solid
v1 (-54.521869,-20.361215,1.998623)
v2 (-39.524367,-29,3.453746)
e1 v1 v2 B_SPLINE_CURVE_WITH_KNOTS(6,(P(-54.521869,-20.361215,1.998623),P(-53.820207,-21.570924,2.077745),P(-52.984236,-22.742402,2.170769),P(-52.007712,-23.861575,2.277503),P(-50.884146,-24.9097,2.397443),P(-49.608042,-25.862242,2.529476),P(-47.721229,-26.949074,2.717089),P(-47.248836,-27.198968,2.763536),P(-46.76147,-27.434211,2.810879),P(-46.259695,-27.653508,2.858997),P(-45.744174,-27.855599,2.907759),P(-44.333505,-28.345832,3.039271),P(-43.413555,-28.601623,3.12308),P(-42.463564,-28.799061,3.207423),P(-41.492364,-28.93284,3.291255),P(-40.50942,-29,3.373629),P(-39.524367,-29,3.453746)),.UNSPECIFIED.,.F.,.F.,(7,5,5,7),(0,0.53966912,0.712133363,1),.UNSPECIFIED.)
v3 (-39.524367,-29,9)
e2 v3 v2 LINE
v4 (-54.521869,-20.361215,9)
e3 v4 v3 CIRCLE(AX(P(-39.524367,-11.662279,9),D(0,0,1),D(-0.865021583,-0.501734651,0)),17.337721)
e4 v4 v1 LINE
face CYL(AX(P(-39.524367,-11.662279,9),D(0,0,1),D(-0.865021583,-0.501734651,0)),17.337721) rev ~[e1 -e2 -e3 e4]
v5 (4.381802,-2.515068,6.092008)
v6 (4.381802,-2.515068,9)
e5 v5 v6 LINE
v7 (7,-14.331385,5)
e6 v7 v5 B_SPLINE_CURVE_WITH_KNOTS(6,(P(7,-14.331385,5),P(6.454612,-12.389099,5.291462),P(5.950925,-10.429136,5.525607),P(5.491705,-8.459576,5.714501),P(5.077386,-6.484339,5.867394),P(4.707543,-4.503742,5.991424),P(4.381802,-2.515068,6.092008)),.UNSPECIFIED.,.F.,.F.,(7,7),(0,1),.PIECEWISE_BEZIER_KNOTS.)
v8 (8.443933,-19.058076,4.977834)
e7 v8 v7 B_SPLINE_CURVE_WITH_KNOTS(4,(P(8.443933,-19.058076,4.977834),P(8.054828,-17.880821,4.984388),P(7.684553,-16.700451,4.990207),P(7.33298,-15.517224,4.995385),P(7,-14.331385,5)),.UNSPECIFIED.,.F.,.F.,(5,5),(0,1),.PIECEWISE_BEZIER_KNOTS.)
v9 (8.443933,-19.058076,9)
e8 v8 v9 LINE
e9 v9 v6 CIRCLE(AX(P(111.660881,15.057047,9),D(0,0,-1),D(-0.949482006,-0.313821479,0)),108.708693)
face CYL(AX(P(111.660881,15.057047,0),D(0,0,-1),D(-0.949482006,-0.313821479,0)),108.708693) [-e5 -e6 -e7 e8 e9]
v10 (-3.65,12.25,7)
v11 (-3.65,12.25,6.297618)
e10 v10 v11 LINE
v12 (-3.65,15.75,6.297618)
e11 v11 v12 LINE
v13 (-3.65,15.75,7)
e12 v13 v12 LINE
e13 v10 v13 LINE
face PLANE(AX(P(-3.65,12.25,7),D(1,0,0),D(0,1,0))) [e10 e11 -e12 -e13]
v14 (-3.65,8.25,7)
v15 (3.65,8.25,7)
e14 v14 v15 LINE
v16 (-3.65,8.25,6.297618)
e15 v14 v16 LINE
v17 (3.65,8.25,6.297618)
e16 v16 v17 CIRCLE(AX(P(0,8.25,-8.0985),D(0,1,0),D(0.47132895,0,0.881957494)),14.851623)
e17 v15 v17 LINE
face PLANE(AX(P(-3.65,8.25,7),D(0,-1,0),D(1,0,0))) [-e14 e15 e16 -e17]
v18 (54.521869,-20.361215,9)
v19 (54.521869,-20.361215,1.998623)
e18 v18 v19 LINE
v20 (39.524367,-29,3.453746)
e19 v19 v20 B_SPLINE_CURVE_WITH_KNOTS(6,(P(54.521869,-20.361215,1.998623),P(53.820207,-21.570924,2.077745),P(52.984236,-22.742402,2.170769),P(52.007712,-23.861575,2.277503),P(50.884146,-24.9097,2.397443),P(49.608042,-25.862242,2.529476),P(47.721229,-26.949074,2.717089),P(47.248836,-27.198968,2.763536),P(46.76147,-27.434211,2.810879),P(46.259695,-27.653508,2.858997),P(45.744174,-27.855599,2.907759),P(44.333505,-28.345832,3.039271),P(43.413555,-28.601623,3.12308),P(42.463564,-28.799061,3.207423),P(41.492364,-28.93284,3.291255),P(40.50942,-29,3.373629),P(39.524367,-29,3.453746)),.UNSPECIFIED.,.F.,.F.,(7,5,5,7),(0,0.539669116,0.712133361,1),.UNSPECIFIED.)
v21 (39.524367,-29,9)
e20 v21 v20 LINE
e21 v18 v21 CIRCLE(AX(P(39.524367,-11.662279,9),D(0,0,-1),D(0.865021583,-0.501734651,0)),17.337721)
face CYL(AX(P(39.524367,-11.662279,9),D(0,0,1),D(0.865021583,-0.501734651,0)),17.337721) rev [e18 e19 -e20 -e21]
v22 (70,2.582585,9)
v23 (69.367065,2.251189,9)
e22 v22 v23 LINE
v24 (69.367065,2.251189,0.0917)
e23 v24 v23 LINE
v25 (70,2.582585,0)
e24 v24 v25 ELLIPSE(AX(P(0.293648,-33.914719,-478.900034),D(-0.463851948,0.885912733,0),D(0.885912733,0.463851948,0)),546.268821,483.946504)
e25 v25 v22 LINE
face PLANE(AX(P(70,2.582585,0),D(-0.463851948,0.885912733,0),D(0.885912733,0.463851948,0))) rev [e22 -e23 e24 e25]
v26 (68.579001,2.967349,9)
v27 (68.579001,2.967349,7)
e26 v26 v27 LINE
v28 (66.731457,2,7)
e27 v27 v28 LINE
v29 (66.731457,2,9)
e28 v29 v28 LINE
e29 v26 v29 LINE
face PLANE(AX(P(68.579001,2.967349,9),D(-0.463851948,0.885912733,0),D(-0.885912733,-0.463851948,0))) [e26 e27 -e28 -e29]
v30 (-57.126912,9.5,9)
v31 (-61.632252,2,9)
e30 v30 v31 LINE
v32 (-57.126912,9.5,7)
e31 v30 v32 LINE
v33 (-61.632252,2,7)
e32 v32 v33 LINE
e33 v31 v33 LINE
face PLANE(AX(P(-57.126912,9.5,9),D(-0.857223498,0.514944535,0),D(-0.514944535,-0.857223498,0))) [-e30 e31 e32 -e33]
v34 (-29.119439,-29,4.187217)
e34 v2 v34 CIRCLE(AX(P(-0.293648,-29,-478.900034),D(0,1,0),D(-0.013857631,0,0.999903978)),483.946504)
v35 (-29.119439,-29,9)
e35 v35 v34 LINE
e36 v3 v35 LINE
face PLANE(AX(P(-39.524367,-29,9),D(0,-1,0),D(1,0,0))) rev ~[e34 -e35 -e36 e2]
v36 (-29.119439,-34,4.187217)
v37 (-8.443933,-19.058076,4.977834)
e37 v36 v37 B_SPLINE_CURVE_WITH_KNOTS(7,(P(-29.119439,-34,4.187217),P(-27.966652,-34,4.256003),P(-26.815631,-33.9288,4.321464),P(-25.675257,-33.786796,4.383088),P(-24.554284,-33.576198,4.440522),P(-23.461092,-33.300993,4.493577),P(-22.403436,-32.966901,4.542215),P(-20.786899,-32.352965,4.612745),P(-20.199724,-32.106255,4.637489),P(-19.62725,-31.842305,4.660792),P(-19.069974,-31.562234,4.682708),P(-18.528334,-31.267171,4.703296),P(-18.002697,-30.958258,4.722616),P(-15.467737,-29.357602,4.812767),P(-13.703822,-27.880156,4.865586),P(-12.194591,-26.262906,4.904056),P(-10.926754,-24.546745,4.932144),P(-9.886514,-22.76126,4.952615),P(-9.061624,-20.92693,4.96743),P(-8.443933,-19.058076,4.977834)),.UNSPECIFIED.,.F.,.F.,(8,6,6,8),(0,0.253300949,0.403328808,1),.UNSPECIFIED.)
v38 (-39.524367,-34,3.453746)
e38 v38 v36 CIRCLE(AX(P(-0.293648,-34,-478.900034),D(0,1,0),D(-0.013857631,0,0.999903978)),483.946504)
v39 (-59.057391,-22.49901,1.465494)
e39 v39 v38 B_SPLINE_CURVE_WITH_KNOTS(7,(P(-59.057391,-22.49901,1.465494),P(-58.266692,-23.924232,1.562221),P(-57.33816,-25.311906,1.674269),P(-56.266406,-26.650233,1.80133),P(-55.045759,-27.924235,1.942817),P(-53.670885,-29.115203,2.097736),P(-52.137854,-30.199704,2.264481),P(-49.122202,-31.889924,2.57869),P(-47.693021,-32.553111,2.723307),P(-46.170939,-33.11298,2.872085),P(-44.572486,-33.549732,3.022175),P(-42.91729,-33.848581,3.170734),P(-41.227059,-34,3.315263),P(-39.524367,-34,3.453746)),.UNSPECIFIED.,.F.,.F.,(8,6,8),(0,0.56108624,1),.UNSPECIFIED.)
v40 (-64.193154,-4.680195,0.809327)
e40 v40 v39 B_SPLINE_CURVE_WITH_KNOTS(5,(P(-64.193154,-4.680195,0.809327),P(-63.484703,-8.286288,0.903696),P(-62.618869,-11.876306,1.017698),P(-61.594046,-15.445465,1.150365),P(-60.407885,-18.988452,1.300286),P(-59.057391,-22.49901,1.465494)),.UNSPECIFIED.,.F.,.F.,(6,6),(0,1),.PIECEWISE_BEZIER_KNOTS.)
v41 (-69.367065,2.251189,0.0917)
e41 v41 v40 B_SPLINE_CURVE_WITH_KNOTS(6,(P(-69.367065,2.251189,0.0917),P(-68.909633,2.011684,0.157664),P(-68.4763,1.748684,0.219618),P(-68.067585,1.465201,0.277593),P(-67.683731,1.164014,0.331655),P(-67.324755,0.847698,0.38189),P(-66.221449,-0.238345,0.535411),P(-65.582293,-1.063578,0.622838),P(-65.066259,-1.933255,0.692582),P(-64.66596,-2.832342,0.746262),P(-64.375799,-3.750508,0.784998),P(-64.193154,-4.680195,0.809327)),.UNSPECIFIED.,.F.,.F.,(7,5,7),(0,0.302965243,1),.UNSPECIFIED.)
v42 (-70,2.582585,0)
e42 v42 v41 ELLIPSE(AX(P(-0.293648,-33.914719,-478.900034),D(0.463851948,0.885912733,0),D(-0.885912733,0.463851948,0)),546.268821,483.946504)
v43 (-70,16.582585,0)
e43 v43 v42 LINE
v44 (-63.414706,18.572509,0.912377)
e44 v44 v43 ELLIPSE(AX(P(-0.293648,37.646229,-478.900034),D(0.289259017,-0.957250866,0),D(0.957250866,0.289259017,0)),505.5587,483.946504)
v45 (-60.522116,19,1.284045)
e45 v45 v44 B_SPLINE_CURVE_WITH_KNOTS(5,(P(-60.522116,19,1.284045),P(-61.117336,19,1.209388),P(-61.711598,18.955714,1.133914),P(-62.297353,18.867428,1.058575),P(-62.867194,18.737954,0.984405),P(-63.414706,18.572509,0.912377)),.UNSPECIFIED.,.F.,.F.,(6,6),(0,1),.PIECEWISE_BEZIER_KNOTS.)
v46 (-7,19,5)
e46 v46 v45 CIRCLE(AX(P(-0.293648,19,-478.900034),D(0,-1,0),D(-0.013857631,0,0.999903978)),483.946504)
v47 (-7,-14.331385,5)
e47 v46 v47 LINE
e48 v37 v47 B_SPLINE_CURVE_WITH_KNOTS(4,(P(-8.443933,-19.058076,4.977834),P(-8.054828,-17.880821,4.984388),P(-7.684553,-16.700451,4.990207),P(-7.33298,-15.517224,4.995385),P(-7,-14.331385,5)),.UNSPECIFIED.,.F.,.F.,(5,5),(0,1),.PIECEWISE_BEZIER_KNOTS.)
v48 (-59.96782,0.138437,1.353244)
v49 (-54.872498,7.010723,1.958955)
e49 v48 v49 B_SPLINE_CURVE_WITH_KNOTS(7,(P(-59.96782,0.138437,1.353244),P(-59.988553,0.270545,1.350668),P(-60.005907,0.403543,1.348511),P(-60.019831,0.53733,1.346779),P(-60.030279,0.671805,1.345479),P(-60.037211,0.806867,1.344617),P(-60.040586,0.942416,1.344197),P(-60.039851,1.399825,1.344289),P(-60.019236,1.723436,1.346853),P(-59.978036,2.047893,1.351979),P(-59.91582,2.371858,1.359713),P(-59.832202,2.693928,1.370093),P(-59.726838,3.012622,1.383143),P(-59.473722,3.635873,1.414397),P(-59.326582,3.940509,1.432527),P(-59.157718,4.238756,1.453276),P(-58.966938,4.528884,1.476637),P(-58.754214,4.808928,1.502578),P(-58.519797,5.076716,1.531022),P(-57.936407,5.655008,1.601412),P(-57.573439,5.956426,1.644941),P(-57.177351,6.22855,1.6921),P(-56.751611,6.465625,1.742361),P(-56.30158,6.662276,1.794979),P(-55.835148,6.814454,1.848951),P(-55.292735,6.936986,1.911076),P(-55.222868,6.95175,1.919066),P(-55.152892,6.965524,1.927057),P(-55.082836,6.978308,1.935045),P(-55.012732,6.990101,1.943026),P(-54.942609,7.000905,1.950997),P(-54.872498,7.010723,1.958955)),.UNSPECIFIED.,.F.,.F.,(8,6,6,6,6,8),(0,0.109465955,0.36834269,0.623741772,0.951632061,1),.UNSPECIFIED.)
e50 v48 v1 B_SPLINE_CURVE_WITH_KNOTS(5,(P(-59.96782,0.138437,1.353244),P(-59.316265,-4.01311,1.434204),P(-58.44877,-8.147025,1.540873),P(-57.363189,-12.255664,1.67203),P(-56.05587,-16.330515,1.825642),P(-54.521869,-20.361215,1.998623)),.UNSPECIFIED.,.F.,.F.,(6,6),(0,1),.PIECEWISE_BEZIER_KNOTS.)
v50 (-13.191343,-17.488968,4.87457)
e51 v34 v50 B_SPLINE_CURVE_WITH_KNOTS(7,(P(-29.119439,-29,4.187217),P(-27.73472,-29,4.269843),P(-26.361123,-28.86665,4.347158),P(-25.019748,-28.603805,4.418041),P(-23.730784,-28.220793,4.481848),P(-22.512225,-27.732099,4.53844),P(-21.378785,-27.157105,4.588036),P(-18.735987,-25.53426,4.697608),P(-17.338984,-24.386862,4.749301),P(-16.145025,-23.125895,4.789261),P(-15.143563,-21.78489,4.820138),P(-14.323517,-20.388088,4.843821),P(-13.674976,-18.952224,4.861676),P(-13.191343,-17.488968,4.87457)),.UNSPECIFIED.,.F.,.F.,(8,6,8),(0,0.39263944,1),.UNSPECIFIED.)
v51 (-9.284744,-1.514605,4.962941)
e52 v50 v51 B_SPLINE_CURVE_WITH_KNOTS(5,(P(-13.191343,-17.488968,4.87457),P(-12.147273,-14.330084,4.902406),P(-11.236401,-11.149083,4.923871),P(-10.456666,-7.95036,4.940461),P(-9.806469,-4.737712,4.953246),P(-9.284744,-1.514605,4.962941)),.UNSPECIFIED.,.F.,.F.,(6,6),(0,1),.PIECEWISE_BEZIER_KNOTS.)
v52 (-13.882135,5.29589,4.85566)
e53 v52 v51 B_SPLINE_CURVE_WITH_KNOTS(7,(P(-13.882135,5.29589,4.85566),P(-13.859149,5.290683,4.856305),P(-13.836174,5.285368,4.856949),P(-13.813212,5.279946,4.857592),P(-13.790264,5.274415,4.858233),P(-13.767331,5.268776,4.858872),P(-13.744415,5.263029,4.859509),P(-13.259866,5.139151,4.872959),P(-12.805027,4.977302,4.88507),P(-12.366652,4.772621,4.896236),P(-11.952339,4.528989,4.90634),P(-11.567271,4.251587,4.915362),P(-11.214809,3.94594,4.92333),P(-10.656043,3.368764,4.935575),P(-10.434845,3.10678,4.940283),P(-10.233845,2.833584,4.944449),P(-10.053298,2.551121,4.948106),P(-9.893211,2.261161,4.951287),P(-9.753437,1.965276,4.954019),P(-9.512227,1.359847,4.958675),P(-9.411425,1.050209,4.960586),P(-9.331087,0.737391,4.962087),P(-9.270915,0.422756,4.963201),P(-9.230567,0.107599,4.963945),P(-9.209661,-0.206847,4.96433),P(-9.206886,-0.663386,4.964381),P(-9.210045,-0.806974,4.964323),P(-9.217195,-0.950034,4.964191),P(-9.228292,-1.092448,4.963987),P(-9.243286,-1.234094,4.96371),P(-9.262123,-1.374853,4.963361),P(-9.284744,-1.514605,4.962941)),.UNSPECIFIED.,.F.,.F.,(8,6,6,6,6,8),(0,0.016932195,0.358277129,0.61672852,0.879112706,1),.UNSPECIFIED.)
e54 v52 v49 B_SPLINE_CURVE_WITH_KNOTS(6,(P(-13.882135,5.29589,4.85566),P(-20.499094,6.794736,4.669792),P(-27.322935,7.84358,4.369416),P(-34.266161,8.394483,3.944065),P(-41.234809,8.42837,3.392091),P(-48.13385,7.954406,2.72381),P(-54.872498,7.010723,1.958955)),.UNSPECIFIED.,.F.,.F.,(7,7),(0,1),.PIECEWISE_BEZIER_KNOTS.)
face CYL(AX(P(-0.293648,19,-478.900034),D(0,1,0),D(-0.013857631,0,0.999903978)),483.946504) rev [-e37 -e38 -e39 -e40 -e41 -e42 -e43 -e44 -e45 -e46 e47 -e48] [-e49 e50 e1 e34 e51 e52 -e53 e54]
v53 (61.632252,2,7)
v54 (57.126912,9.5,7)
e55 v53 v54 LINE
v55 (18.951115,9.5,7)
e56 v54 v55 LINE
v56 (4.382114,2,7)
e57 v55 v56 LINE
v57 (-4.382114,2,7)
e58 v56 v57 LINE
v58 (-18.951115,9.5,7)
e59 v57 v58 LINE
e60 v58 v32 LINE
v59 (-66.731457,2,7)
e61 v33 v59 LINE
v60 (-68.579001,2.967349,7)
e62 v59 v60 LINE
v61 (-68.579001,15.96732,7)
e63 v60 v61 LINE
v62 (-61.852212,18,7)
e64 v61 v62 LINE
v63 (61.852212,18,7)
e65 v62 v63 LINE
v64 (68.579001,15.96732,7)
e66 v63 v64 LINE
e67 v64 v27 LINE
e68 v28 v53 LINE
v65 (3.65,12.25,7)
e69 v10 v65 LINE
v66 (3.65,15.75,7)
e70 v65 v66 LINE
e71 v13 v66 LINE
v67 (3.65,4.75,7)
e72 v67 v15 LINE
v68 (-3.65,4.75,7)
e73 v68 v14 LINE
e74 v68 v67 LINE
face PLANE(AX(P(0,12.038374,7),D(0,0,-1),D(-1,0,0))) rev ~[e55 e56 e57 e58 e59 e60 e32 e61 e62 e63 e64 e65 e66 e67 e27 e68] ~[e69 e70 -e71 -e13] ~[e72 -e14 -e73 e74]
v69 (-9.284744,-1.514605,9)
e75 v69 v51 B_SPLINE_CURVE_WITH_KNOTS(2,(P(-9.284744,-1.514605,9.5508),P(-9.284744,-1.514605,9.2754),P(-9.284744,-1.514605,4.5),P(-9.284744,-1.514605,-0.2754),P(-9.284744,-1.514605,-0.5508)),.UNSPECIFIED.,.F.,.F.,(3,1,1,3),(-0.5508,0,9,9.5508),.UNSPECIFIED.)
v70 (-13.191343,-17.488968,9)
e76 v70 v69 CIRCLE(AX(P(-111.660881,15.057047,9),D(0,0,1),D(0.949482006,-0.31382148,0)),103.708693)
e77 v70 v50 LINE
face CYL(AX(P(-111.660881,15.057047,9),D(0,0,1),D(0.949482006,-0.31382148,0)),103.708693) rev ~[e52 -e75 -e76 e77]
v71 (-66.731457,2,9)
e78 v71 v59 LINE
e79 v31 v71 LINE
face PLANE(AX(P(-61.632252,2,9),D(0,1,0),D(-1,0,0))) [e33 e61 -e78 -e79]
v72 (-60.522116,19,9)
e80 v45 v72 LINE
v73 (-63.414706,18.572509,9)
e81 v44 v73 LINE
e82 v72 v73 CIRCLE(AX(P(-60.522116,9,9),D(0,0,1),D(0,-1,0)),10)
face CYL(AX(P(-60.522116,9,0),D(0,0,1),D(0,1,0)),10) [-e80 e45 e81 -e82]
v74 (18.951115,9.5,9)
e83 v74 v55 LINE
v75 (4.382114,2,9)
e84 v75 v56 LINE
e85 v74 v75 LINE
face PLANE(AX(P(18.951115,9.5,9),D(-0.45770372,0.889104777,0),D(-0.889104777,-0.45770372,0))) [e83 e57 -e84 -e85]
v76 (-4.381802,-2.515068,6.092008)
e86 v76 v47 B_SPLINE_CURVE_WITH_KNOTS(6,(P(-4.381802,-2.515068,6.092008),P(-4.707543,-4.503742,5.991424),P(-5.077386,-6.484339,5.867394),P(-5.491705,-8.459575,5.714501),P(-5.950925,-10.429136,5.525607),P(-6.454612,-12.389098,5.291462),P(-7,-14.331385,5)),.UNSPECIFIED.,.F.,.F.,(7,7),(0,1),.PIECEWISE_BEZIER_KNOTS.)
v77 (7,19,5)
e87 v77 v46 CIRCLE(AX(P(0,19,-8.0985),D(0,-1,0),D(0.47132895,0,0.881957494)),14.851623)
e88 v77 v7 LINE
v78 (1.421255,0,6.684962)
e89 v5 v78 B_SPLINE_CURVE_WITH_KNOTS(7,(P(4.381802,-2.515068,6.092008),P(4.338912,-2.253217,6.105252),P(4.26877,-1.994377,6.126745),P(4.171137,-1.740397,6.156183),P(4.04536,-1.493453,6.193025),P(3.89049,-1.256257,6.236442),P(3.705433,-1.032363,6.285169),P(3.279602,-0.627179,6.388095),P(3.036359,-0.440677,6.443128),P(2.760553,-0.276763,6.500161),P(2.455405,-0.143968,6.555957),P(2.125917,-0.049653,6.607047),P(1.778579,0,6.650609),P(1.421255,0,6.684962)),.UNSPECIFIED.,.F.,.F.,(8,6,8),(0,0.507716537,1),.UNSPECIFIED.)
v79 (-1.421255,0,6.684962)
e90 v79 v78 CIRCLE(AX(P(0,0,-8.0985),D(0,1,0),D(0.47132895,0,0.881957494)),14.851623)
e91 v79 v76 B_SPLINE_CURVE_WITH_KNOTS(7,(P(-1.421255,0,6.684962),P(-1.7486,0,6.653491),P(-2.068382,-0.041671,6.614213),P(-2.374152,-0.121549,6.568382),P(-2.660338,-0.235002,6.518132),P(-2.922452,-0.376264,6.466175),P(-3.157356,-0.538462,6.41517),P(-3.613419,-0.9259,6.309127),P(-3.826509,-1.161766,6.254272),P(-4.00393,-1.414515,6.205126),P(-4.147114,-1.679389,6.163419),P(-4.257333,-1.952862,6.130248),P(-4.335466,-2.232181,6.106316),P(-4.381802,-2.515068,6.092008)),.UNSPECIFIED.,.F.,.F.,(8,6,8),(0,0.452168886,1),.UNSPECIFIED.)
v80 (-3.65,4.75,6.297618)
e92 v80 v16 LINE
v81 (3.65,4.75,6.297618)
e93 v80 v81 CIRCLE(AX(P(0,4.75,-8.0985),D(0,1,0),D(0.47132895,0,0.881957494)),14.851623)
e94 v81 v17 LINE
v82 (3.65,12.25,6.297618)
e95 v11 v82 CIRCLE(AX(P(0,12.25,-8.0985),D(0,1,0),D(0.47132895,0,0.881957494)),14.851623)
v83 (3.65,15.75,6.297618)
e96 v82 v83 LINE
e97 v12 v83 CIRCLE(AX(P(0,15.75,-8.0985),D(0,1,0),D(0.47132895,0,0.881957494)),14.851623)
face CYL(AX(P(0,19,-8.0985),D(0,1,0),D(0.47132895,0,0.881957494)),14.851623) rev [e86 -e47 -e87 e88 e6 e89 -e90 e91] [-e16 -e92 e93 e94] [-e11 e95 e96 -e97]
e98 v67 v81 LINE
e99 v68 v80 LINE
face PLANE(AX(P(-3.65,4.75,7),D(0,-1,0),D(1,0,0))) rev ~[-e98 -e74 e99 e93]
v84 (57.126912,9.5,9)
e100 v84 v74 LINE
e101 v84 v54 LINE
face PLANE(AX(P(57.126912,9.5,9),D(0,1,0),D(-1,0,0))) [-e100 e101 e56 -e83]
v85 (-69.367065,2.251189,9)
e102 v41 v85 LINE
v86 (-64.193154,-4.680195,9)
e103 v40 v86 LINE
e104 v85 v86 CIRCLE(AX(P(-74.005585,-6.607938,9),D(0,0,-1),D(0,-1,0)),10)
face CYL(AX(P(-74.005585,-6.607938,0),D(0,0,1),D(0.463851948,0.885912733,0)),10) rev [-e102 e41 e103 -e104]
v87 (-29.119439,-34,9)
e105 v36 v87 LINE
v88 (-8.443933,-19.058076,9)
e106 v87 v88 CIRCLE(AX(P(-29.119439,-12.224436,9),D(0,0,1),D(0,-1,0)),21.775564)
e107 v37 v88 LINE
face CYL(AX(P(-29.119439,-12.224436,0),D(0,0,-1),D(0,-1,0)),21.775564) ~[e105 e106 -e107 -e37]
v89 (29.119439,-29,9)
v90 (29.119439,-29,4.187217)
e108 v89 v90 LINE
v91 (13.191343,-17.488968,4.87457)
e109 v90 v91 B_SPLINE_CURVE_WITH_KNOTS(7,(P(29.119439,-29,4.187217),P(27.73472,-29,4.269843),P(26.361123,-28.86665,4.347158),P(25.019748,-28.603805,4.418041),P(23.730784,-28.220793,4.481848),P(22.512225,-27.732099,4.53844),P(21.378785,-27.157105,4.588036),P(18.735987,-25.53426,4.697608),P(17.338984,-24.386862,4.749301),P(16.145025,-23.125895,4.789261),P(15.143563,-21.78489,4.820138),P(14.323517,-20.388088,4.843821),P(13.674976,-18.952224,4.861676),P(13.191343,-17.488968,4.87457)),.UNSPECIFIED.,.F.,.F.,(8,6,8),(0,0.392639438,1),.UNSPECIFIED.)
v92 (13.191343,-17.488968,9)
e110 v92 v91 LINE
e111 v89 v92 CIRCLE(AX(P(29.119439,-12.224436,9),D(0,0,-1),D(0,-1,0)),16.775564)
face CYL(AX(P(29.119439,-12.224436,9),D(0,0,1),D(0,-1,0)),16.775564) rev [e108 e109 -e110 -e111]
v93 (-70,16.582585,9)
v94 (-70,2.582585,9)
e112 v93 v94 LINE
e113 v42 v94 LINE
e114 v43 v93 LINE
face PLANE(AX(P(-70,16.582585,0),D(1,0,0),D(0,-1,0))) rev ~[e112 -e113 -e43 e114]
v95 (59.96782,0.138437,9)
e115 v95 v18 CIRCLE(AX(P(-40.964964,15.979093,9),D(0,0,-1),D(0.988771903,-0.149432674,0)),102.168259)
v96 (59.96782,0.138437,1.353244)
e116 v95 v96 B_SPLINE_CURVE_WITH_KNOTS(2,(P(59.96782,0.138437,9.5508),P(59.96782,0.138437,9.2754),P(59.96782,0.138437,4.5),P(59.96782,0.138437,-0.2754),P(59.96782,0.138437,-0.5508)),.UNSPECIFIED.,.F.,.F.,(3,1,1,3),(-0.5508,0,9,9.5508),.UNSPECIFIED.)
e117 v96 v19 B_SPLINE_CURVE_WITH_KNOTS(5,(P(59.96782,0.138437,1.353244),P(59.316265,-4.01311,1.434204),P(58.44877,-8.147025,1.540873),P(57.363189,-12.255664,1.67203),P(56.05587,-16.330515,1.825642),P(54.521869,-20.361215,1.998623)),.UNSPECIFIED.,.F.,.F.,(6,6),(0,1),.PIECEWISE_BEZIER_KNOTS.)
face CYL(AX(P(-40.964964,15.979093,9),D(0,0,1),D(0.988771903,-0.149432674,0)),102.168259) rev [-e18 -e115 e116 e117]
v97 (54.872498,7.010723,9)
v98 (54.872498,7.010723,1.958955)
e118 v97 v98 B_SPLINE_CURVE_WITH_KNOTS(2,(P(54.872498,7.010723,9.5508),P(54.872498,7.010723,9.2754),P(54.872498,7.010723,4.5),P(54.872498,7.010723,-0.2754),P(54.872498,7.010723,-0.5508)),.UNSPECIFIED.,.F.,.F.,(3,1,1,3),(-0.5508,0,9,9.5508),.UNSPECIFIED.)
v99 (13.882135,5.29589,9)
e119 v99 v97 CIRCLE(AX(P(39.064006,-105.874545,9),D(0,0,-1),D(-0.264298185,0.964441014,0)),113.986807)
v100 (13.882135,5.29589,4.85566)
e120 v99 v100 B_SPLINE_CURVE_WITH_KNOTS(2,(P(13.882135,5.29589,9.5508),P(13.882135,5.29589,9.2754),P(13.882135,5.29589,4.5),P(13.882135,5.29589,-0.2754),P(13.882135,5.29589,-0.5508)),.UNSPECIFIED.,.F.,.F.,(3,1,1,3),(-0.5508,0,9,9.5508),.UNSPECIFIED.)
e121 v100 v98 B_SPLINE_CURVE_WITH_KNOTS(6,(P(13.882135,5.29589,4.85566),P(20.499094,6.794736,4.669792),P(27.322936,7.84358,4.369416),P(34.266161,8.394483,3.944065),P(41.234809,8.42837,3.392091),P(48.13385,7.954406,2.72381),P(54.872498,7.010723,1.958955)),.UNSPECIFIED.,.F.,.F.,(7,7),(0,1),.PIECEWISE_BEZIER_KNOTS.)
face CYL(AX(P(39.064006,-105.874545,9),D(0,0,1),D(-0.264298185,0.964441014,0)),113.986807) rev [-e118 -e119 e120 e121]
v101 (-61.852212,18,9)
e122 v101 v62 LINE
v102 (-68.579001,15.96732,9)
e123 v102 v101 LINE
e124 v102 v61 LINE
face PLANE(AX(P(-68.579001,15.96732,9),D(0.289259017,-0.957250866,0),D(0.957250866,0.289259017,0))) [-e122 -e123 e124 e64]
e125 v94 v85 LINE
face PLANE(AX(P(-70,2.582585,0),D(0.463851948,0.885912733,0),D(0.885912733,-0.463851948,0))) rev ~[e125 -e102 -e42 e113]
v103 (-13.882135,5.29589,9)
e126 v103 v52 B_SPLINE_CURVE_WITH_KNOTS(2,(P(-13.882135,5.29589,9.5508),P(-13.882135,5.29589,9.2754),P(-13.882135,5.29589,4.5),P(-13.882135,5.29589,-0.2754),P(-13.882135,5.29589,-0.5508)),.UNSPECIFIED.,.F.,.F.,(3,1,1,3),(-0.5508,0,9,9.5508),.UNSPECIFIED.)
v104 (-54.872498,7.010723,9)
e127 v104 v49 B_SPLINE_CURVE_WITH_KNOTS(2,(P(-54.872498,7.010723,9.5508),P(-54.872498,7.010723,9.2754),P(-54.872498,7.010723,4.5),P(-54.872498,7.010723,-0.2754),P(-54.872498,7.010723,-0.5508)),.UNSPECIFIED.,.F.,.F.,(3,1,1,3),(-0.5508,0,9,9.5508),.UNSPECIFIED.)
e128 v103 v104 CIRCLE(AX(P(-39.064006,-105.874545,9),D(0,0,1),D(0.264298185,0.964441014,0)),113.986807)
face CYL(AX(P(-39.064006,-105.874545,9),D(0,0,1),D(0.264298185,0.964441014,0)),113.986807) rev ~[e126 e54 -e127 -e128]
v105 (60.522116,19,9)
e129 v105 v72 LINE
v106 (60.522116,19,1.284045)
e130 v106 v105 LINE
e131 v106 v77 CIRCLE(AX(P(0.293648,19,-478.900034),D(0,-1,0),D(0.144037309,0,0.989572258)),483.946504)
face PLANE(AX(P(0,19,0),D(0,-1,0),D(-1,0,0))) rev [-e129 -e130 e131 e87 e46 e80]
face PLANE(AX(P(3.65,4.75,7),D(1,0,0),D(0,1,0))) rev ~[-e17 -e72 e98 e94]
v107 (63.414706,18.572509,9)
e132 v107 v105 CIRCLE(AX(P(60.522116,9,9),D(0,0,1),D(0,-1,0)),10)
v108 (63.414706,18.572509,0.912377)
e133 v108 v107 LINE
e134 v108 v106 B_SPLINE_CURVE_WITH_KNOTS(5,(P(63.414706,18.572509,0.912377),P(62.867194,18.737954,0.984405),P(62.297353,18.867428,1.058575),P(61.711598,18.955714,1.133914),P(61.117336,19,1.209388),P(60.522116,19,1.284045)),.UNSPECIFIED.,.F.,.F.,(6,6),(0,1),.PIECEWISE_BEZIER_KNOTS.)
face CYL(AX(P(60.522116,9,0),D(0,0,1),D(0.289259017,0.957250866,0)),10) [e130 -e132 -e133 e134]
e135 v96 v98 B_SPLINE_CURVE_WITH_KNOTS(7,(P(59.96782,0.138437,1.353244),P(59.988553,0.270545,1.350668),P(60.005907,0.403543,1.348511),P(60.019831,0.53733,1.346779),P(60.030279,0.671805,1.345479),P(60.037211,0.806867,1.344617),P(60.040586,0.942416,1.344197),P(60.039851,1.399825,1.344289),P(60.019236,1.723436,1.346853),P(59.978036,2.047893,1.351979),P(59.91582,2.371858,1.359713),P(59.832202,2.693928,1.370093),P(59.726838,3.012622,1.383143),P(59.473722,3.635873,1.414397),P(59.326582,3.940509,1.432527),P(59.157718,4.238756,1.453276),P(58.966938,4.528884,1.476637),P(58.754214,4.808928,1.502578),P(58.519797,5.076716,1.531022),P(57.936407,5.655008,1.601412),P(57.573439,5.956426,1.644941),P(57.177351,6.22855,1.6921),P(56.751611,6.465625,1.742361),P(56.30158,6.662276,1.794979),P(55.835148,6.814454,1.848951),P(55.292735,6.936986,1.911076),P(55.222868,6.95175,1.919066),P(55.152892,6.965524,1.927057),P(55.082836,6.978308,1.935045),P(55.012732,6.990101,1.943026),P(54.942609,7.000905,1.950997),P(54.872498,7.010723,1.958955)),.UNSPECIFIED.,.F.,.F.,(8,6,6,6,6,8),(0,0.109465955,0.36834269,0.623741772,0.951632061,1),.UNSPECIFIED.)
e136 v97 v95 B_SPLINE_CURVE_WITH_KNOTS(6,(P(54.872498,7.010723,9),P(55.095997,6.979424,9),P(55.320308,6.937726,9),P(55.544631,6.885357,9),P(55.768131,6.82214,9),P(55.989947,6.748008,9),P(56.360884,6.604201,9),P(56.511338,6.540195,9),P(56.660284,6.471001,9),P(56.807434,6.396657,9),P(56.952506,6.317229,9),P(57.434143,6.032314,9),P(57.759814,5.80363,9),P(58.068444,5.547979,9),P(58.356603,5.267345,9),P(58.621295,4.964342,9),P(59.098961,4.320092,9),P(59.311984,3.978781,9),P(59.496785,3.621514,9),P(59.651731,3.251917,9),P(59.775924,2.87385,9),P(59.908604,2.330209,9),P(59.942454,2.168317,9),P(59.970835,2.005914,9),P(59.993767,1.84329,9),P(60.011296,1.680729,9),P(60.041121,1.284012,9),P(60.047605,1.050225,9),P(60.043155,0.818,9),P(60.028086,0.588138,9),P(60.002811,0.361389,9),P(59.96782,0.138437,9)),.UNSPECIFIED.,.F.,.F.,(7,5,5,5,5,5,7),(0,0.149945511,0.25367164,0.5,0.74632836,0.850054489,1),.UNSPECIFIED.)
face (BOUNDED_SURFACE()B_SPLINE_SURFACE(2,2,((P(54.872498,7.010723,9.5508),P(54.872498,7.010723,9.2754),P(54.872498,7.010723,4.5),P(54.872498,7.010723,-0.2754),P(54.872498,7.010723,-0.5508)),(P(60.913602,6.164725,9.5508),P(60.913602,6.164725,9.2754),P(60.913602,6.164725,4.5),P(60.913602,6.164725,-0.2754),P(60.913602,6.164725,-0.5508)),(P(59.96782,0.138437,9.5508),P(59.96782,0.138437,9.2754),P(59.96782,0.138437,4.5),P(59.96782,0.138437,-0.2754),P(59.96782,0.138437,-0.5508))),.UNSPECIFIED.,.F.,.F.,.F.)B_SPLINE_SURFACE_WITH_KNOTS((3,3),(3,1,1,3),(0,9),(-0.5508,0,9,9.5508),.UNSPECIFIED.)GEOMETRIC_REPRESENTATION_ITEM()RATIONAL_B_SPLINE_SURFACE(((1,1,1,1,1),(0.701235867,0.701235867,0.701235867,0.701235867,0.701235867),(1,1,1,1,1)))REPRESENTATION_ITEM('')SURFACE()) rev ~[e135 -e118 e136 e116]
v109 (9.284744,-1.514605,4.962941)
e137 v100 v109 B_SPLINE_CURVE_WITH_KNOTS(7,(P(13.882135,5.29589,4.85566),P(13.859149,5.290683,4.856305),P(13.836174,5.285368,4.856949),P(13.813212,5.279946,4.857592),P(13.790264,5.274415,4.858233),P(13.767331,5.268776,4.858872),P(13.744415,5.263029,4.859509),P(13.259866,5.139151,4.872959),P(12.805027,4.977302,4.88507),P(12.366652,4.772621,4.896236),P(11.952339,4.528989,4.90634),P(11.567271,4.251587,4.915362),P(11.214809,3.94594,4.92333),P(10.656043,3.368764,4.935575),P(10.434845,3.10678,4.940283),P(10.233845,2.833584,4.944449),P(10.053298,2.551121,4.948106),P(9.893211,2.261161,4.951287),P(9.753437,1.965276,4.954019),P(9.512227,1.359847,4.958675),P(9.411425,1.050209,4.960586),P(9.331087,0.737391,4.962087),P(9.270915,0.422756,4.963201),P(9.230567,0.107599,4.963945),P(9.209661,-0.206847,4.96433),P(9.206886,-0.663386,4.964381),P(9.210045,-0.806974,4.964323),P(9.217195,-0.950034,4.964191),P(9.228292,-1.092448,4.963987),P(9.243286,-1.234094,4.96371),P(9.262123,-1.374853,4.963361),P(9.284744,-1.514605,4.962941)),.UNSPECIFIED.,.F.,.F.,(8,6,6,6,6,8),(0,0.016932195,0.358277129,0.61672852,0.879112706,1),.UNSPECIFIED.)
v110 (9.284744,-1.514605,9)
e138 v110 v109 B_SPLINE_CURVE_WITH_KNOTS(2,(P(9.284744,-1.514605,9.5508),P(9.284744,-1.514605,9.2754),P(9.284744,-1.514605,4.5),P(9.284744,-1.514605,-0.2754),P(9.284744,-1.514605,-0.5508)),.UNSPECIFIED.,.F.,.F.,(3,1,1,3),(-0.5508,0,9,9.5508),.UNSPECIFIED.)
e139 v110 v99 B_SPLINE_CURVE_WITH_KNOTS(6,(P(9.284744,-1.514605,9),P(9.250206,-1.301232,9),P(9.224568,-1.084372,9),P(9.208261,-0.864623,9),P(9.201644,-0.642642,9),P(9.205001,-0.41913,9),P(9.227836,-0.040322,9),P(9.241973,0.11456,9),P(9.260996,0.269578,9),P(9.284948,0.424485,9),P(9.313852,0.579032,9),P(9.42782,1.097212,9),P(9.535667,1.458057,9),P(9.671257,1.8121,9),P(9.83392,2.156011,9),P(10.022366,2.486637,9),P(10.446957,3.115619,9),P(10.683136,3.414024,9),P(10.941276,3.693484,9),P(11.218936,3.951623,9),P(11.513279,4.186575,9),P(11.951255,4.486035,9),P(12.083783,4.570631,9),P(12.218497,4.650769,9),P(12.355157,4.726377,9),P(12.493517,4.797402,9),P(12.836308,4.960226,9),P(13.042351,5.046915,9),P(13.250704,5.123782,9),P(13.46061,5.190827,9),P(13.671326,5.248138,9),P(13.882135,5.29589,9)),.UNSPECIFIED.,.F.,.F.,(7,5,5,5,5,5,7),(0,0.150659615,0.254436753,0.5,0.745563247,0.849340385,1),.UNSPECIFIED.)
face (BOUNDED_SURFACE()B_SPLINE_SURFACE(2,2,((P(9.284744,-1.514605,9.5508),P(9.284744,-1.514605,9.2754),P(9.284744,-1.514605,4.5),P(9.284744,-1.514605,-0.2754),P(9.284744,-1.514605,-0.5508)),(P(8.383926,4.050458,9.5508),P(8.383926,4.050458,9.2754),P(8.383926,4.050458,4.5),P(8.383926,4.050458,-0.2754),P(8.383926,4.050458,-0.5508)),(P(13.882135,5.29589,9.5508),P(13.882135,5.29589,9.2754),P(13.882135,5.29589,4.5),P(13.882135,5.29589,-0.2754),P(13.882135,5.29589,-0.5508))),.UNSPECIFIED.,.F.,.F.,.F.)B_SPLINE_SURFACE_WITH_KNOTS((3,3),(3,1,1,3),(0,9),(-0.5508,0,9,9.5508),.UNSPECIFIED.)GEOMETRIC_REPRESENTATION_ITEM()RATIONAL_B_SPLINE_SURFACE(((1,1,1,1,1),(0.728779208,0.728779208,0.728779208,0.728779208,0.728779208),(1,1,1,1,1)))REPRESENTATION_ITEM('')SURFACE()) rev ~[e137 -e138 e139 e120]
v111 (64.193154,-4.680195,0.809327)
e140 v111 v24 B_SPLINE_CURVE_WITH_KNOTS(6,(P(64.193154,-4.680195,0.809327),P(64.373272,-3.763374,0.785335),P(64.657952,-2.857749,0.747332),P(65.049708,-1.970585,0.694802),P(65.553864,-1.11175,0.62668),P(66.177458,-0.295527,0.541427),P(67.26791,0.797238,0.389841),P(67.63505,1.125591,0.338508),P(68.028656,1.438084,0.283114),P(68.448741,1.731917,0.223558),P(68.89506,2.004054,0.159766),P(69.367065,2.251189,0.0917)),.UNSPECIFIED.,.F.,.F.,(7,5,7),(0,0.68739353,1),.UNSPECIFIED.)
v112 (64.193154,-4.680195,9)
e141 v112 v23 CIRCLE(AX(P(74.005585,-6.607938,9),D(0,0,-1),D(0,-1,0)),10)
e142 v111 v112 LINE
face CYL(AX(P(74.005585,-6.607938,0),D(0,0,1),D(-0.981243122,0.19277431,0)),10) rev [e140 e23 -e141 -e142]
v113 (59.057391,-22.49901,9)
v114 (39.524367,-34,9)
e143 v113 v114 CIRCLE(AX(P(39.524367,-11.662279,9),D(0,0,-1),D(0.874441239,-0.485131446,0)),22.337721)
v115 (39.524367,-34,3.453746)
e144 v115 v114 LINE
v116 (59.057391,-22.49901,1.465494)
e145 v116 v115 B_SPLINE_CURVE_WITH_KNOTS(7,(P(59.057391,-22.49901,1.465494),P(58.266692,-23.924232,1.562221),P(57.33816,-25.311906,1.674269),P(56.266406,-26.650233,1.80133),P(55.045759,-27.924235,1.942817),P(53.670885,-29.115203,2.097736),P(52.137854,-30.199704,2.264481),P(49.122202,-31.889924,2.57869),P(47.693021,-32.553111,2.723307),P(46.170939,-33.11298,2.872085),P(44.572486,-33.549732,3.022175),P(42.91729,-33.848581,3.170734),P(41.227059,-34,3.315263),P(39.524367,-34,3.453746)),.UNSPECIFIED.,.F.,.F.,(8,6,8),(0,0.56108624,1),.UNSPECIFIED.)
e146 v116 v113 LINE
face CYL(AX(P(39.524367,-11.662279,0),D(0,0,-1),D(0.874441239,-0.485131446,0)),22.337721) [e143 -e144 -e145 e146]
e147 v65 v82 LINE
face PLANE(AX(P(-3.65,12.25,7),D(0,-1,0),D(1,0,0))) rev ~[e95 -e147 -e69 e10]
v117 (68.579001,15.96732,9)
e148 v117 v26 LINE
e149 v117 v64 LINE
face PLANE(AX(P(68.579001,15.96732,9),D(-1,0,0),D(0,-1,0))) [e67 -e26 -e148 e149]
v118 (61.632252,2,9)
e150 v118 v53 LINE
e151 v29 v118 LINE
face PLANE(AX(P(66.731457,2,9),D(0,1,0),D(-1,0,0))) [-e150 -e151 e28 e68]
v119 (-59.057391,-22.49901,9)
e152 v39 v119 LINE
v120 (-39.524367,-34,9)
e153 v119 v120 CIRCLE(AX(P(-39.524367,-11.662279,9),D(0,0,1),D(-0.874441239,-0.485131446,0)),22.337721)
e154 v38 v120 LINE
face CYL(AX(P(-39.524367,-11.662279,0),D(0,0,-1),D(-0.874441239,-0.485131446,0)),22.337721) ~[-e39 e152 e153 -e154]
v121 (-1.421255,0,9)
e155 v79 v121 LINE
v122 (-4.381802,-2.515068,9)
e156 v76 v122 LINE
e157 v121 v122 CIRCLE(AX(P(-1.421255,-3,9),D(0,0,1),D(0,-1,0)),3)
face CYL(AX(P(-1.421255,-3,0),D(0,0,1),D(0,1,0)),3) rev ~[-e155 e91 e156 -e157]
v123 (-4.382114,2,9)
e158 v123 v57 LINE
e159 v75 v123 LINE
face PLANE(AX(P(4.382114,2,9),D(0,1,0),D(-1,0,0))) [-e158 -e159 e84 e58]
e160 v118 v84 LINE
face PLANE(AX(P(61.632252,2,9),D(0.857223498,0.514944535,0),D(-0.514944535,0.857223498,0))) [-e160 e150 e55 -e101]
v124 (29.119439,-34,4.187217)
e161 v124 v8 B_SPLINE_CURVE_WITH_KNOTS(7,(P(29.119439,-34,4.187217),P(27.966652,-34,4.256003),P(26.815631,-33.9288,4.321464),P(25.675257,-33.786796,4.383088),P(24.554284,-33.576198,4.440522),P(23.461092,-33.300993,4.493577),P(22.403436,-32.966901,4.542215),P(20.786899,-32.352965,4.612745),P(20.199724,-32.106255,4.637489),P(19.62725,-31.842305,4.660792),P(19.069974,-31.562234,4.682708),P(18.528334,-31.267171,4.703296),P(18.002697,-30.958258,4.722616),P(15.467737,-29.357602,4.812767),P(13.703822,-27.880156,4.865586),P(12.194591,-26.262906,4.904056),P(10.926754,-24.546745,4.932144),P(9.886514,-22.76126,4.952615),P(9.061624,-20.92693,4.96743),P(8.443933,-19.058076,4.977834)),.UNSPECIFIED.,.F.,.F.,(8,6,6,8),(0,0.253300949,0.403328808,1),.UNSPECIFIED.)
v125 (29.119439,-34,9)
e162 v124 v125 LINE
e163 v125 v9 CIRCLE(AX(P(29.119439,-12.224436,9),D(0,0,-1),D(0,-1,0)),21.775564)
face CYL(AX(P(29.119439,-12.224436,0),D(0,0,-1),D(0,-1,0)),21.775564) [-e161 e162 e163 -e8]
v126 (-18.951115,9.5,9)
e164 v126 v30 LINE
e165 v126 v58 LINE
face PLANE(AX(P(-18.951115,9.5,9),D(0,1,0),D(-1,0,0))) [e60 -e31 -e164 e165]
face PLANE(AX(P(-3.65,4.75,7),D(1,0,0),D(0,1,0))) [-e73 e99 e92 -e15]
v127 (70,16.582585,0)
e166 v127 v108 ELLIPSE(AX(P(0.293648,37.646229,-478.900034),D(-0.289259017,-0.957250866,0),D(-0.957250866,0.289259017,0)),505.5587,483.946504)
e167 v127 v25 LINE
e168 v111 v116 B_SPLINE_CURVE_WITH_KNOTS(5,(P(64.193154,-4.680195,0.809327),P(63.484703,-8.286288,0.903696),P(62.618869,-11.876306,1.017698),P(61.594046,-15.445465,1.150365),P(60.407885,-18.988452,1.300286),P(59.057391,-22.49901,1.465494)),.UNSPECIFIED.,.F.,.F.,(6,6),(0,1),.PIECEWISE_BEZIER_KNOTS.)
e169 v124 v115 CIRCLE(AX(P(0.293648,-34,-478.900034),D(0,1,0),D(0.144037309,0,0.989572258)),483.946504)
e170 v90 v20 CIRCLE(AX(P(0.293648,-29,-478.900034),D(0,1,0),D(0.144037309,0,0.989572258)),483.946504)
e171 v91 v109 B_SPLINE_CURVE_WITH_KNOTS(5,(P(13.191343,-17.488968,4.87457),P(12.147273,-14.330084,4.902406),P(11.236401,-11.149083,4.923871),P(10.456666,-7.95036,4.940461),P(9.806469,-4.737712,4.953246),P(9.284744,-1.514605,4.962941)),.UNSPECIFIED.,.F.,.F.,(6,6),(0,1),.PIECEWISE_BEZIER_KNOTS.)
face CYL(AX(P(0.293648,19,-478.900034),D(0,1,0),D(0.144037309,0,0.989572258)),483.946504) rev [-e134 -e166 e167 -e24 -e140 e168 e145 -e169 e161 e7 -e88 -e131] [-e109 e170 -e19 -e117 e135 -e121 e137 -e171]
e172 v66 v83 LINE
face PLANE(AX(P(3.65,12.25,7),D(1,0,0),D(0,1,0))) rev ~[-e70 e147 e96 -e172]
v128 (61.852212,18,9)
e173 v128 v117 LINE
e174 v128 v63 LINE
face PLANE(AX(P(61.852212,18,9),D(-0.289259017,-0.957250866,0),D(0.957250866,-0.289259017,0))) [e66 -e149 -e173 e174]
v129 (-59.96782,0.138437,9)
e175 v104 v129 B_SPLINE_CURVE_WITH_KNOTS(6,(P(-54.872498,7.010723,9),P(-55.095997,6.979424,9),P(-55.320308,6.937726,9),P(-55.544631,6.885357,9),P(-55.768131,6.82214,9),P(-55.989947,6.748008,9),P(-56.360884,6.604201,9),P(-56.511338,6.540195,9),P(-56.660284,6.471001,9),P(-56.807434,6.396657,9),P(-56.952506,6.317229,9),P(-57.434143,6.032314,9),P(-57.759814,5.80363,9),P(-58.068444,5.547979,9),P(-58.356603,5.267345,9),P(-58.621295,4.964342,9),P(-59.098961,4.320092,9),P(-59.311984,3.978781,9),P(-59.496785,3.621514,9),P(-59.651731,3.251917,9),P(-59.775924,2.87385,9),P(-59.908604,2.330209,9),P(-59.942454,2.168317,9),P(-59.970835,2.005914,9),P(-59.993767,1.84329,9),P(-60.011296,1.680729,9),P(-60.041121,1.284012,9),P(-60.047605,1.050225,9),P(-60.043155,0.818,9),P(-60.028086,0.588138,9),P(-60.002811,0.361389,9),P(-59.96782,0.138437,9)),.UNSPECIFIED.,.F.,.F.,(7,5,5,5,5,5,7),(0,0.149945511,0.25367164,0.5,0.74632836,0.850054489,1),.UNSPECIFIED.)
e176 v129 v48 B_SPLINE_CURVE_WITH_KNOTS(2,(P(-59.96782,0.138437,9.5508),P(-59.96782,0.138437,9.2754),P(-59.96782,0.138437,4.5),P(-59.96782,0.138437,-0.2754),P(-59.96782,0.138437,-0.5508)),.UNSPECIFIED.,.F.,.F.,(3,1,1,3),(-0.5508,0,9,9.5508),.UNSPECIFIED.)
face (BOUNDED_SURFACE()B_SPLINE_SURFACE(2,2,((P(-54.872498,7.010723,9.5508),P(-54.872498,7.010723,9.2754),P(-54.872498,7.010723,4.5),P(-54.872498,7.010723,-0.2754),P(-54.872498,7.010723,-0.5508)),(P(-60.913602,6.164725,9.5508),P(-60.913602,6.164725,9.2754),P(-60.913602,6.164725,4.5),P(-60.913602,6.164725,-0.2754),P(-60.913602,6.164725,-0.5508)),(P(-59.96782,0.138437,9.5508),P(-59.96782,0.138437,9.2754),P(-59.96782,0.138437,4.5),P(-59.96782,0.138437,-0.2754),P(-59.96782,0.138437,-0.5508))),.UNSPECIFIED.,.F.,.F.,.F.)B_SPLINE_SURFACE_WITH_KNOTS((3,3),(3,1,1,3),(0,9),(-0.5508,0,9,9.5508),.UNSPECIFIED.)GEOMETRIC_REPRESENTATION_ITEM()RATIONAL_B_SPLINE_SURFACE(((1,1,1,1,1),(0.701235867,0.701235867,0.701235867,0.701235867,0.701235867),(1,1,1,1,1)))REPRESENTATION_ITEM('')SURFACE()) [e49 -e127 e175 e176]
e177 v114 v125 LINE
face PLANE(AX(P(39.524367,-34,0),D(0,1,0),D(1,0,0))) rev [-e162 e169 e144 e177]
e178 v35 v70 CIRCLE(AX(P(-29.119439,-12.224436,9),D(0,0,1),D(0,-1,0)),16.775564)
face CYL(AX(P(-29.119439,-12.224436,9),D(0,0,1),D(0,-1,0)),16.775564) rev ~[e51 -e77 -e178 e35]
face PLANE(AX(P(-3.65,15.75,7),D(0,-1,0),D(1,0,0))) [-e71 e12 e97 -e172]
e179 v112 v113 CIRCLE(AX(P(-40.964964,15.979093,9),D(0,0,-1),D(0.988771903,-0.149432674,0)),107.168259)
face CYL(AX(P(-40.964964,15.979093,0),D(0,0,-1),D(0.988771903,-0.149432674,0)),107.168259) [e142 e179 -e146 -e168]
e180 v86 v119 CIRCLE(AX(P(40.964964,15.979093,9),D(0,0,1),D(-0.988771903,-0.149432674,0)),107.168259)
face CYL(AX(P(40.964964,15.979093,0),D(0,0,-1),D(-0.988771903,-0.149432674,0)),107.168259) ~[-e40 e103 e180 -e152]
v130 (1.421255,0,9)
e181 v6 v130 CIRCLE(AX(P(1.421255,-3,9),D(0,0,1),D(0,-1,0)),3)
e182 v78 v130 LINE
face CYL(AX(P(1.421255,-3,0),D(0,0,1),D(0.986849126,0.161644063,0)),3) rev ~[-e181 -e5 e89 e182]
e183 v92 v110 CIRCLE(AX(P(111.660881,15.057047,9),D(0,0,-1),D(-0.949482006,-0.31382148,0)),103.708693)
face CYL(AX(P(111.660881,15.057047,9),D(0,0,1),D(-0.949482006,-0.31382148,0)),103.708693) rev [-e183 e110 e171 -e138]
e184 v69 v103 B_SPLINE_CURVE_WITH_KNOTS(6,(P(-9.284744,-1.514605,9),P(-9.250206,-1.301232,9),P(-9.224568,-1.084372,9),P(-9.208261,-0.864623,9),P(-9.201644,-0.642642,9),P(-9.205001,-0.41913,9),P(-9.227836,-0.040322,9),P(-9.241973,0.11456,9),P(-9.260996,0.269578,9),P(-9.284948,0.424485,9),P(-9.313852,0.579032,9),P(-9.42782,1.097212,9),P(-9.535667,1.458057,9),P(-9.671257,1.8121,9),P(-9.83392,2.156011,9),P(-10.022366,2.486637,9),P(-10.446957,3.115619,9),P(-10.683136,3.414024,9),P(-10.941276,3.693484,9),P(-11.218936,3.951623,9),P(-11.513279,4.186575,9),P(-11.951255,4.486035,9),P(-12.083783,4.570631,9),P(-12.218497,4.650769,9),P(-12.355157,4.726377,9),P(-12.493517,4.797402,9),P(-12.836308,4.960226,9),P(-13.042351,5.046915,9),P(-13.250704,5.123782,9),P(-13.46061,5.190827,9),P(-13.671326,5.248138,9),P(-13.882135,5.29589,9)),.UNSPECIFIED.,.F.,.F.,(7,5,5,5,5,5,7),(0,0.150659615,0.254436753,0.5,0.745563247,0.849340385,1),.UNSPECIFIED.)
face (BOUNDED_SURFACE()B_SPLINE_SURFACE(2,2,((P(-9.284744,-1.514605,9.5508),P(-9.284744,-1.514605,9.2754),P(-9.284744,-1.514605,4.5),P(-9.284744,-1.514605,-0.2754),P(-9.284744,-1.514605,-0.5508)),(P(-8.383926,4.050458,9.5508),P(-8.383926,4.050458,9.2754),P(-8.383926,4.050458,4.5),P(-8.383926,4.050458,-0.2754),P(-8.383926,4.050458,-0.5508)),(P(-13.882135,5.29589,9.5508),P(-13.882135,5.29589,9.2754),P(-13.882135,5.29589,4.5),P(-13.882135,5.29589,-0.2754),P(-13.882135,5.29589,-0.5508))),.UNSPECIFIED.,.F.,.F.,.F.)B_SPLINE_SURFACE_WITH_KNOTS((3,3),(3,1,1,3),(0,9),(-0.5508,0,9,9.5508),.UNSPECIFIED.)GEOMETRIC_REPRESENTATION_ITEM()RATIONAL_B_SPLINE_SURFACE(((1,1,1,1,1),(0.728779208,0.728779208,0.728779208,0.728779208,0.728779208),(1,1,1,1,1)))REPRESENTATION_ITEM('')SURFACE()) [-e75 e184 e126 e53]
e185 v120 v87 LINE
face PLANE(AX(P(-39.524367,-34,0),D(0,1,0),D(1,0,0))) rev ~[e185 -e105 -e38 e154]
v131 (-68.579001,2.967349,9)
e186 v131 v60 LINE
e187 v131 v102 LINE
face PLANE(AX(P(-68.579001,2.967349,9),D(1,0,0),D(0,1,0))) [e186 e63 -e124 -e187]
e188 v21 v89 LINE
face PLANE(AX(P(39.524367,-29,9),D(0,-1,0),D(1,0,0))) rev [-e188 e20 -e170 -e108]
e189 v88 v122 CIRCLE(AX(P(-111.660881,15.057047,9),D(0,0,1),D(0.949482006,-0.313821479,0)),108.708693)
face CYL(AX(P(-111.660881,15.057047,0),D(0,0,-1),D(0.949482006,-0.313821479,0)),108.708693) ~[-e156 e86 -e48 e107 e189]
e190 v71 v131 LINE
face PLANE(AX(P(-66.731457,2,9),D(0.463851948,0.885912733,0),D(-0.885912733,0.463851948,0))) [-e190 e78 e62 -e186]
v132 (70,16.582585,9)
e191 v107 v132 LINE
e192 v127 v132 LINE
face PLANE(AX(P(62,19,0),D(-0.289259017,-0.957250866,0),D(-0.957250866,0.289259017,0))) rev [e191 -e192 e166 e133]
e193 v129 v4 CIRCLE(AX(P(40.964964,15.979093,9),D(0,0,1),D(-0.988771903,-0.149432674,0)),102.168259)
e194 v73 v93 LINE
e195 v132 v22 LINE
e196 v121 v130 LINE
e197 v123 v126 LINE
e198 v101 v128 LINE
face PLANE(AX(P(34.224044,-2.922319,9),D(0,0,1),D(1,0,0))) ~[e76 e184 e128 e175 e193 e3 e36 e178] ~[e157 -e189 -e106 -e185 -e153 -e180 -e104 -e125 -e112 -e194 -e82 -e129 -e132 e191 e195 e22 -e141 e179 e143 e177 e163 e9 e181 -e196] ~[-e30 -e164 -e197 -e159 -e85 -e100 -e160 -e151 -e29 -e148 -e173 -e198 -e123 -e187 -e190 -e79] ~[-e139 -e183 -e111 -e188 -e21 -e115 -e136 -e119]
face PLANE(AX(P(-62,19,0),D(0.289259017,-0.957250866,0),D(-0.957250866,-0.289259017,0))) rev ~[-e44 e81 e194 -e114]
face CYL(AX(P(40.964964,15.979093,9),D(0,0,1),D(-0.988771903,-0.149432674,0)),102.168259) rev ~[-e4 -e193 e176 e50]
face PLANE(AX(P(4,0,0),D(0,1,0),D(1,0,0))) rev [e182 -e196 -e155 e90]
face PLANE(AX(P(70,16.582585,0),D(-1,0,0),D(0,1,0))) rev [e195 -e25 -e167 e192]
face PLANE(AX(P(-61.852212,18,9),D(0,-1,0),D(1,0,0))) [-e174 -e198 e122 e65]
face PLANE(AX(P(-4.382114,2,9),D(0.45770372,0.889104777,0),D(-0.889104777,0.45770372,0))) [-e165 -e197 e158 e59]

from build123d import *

# Parameters (mm, degrees)
BOSS_EXTRUDE1_DEPTH  = 9
CUT_EXTRUDE1_DEPTH   = 79.339006887
FILLET1_R            = 6
FILLET4_R            = 3
FILLET5_R            = 10
FILLET1_OF_MIRROR2_R = 6
FILLET4_OF_MIRROR2_R = 3
FILLET5_OF_MIRROR2_R = 10
CUT_EXTRUDE2_DEPTH   = 2
SKETCH4_W            = 7.3
SKETCH4_H            = 3.5
CUT_EXTRUDE3_DEPTH   = 79.134499565
CUT_EXTRUDE4_DEPTH   = 89.260976804


with BuildPart() as part:
    # Sketch1 → Boss-Extrude1 (new body)
    with BuildSketch(Plane.XY):
        with BuildLine():
            Line((-70, 16.58258549), (-70, 2.58258549))
            Line((-70, 2.58258549), (-65, -0.035347018))
            ThreePointArc((-65, -0.035347018), (-62.639321295, -11.428715409), (-59.057390955, -22.499009997))
            ThreePointArc((-59.057390955, -22.499009997), (-50.858075368, -30.911196539), (-39.524366721, -34))
            Line((-39.524366721, -34), (-29.119439011, -34))
            ThreePointArc((-29.119439011, -34), (-16.364659062, -29.873537236), (-8.443933007, -19.058075838))
            ThreePointArc((-8.443933007, -19.058075838), (-5.792248942, -9.629238804), (-4, 0))
            Line((-4, 0), (0, 0))
            Line((0, 0), (0, 19))
            Line((0, 19), (-62, 19))
            Line((-62, 19), (-70, 16.58258549))
        make_face()
    boss_extrude1 = extrude(amount=BOSS_EXTRUDE1_DEPTH)

    # Sketch2 → Cut-Extrude1 (cut, through all)
    with BuildSketch(Plane.XY.offset(9)):
        with BuildLine():
            Line((-39.524366721, -29), (-29.119439011, -29))
            ThreePointArc((-29.119439011, -29), (-19.293350153, -25.821035725), (-13.191343035, -17.488968441))
            ThreePointArc((-13.191343035, -17.488968441), (-10.661621804, -8.493805879), (-8.951806424, 0.692541077))
            ThreePointArc((-8.951806424, 0.692541077), (-8.83111114, 2.375291538), (-8.93749946, 4.05900707))
            ThreePointArc((-8.93749946, 4.05900707), (-33.987475013, 7.999161751), (-59.288689209, 6.303681198))
            ThreePointArc((-59.288689209, 6.303681198), (-60.075532666, 3.563074376), (-60.056140486, 0.711816353))
            ThreePointArc((-60.056140486, 0.711816353), (-57.852345066, -9.972645379), (-54.521869403, -20.361214511))
            ThreePointArc((-54.521869403, -20.361214511), (-48.178176596, -26.685865227), (-39.524366721, -29))
        make_face()
    cut_extrude1 = extrude(amount=-CUT_EXTRUDE1_DEPTH, mode=Mode.SUBTRACT)

    # Fillet1
    fillet1_edges = [part.edges().sort_by_distance(p)[0] for p in [
        (-8.93749946, 4.05900707, 4.5),
        (-59.288689209, 6.303681198, 4.5),
    ]]
    fillet(fillet1_edges, radius=FILLET1_R)

    # Fillet4
    fillet4_edges = [part.edges().sort_by_distance(p)[0] for p in [
        (-4, 0, 4.5),
    ]]
    fillet(fillet4_edges, radius=FILLET4_R)

    # Fillet5
    fillet5_edges = [part.edges().sort_by_distance(p)[0] for p in [
        (-65, -0.035347018, 4.5),
        (-62, 19, 4.5),
    ]]
    fillet(fillet5_edges, radius=FILLET5_R)

    # Mirror2: Boss-Extrude1, Cut-Extrude1 across plane
    add(boss_extrude1.mirror(Plane(origin=(0, 19, 9), x_dir=(0, 0, 1), z_dir=(1, 0, 0))))
    add(cut_extrude1.mirror(Plane(origin=(0, 19, 9), x_dir=(0, 0, 1), z_dir=(1, 0, 0))), mode=Mode.SUBTRACT)

    # Fillet1 of Mirror2
    fillet1_of_mirror2_edges = [part.edges().sort_by_distance(p)[0] for p in [
        (8.93749946, 4.05900707, 4.5),
        (59.288689209, 6.303681198, 4.5),
    ]]
    fillet(fillet1_of_mirror2_edges, radius=FILLET1_OF_MIRROR2_R)

    # Fillet4 of Mirror2
    fillet4_of_mirror2_edges = [part.edges().sort_by_distance(p)[0] for p in [
        (4, 0, 4.5),
    ]]
    fillet(fillet4_of_mirror2_edges, radius=FILLET4_OF_MIRROR2_R)

    # Fillet5 of Mirror2
    fillet5_of_mirror2_edges = [part.edges().sort_by_distance(p)[0] for p in [
        (65, -0.035347018, 4.5),
        (62, 19, 4.5),
    ]]
    fillet(fillet5_of_mirror2_edges, radius=FILLET5_OF_MIRROR2_R)

    # Sketch3 → Cut-Extrude2 (cut)
    with BuildSketch(Plane.XY.offset(9)):
        Polygon((-68.579000582, 15.967320332), (-61.852211578, 18), (61.852211578, 18), (68.579000582, 15.967320332), (68.579000582, 2.967348727), (66.731457293, 2), (61.632252323, 2), (57.126911514, 9.5), (18.95111491, 9.5), (4.382114171, 2), (-4.382114171, 2), (-18.95111491, 9.5), (-57.126911514, 9.5), (-61.632252323, 2), (-66.731457293, 2), (-68.579000582, 2.967348727), align=None)
    extrude(amount=-CUT_EXTRUDE2_DEPTH, mode=Mode.SUBTRACT)

    # Sketch4 → Cut-Extrude3 (cut, through all)
    with BuildSketch(Plane.XY.offset(7)):
        with Locations((0, 14)):
            Rectangle(SKETCH4_W, SKETCH4_H)
        with Locations((0, 6.5)):
            Rectangle(SKETCH4_W, SKETCH4_H)
    extrude(amount=-CUT_EXTRUDE3_DEPTH, mode=Mode.SUBTRACT)

    # Sketch5 → Cut-Extrude4 (cut, through all)
    with BuildSketch(Plane(origin=(0, 19, 0), x_dir=(1, 0, 0), z_dir=(0, 1, 0))):
        with BuildLine():
            Line((-70, 0), (70, 0))
            ThreePointArc((70, 0), (38.581705318, -3.529487002), (7, -5))
            ThreePointArc((7, -5), (0, -6.753122833), (-7, -5))
            ThreePointArc((-7, -5), (-38.581705318, -3.529487002), (-70, 0))
        make_face()
    extrude(amount=-CUT_EXTRUDE4_DEPTH, mode=Mode.SUBTRACT)


solid = part.part
